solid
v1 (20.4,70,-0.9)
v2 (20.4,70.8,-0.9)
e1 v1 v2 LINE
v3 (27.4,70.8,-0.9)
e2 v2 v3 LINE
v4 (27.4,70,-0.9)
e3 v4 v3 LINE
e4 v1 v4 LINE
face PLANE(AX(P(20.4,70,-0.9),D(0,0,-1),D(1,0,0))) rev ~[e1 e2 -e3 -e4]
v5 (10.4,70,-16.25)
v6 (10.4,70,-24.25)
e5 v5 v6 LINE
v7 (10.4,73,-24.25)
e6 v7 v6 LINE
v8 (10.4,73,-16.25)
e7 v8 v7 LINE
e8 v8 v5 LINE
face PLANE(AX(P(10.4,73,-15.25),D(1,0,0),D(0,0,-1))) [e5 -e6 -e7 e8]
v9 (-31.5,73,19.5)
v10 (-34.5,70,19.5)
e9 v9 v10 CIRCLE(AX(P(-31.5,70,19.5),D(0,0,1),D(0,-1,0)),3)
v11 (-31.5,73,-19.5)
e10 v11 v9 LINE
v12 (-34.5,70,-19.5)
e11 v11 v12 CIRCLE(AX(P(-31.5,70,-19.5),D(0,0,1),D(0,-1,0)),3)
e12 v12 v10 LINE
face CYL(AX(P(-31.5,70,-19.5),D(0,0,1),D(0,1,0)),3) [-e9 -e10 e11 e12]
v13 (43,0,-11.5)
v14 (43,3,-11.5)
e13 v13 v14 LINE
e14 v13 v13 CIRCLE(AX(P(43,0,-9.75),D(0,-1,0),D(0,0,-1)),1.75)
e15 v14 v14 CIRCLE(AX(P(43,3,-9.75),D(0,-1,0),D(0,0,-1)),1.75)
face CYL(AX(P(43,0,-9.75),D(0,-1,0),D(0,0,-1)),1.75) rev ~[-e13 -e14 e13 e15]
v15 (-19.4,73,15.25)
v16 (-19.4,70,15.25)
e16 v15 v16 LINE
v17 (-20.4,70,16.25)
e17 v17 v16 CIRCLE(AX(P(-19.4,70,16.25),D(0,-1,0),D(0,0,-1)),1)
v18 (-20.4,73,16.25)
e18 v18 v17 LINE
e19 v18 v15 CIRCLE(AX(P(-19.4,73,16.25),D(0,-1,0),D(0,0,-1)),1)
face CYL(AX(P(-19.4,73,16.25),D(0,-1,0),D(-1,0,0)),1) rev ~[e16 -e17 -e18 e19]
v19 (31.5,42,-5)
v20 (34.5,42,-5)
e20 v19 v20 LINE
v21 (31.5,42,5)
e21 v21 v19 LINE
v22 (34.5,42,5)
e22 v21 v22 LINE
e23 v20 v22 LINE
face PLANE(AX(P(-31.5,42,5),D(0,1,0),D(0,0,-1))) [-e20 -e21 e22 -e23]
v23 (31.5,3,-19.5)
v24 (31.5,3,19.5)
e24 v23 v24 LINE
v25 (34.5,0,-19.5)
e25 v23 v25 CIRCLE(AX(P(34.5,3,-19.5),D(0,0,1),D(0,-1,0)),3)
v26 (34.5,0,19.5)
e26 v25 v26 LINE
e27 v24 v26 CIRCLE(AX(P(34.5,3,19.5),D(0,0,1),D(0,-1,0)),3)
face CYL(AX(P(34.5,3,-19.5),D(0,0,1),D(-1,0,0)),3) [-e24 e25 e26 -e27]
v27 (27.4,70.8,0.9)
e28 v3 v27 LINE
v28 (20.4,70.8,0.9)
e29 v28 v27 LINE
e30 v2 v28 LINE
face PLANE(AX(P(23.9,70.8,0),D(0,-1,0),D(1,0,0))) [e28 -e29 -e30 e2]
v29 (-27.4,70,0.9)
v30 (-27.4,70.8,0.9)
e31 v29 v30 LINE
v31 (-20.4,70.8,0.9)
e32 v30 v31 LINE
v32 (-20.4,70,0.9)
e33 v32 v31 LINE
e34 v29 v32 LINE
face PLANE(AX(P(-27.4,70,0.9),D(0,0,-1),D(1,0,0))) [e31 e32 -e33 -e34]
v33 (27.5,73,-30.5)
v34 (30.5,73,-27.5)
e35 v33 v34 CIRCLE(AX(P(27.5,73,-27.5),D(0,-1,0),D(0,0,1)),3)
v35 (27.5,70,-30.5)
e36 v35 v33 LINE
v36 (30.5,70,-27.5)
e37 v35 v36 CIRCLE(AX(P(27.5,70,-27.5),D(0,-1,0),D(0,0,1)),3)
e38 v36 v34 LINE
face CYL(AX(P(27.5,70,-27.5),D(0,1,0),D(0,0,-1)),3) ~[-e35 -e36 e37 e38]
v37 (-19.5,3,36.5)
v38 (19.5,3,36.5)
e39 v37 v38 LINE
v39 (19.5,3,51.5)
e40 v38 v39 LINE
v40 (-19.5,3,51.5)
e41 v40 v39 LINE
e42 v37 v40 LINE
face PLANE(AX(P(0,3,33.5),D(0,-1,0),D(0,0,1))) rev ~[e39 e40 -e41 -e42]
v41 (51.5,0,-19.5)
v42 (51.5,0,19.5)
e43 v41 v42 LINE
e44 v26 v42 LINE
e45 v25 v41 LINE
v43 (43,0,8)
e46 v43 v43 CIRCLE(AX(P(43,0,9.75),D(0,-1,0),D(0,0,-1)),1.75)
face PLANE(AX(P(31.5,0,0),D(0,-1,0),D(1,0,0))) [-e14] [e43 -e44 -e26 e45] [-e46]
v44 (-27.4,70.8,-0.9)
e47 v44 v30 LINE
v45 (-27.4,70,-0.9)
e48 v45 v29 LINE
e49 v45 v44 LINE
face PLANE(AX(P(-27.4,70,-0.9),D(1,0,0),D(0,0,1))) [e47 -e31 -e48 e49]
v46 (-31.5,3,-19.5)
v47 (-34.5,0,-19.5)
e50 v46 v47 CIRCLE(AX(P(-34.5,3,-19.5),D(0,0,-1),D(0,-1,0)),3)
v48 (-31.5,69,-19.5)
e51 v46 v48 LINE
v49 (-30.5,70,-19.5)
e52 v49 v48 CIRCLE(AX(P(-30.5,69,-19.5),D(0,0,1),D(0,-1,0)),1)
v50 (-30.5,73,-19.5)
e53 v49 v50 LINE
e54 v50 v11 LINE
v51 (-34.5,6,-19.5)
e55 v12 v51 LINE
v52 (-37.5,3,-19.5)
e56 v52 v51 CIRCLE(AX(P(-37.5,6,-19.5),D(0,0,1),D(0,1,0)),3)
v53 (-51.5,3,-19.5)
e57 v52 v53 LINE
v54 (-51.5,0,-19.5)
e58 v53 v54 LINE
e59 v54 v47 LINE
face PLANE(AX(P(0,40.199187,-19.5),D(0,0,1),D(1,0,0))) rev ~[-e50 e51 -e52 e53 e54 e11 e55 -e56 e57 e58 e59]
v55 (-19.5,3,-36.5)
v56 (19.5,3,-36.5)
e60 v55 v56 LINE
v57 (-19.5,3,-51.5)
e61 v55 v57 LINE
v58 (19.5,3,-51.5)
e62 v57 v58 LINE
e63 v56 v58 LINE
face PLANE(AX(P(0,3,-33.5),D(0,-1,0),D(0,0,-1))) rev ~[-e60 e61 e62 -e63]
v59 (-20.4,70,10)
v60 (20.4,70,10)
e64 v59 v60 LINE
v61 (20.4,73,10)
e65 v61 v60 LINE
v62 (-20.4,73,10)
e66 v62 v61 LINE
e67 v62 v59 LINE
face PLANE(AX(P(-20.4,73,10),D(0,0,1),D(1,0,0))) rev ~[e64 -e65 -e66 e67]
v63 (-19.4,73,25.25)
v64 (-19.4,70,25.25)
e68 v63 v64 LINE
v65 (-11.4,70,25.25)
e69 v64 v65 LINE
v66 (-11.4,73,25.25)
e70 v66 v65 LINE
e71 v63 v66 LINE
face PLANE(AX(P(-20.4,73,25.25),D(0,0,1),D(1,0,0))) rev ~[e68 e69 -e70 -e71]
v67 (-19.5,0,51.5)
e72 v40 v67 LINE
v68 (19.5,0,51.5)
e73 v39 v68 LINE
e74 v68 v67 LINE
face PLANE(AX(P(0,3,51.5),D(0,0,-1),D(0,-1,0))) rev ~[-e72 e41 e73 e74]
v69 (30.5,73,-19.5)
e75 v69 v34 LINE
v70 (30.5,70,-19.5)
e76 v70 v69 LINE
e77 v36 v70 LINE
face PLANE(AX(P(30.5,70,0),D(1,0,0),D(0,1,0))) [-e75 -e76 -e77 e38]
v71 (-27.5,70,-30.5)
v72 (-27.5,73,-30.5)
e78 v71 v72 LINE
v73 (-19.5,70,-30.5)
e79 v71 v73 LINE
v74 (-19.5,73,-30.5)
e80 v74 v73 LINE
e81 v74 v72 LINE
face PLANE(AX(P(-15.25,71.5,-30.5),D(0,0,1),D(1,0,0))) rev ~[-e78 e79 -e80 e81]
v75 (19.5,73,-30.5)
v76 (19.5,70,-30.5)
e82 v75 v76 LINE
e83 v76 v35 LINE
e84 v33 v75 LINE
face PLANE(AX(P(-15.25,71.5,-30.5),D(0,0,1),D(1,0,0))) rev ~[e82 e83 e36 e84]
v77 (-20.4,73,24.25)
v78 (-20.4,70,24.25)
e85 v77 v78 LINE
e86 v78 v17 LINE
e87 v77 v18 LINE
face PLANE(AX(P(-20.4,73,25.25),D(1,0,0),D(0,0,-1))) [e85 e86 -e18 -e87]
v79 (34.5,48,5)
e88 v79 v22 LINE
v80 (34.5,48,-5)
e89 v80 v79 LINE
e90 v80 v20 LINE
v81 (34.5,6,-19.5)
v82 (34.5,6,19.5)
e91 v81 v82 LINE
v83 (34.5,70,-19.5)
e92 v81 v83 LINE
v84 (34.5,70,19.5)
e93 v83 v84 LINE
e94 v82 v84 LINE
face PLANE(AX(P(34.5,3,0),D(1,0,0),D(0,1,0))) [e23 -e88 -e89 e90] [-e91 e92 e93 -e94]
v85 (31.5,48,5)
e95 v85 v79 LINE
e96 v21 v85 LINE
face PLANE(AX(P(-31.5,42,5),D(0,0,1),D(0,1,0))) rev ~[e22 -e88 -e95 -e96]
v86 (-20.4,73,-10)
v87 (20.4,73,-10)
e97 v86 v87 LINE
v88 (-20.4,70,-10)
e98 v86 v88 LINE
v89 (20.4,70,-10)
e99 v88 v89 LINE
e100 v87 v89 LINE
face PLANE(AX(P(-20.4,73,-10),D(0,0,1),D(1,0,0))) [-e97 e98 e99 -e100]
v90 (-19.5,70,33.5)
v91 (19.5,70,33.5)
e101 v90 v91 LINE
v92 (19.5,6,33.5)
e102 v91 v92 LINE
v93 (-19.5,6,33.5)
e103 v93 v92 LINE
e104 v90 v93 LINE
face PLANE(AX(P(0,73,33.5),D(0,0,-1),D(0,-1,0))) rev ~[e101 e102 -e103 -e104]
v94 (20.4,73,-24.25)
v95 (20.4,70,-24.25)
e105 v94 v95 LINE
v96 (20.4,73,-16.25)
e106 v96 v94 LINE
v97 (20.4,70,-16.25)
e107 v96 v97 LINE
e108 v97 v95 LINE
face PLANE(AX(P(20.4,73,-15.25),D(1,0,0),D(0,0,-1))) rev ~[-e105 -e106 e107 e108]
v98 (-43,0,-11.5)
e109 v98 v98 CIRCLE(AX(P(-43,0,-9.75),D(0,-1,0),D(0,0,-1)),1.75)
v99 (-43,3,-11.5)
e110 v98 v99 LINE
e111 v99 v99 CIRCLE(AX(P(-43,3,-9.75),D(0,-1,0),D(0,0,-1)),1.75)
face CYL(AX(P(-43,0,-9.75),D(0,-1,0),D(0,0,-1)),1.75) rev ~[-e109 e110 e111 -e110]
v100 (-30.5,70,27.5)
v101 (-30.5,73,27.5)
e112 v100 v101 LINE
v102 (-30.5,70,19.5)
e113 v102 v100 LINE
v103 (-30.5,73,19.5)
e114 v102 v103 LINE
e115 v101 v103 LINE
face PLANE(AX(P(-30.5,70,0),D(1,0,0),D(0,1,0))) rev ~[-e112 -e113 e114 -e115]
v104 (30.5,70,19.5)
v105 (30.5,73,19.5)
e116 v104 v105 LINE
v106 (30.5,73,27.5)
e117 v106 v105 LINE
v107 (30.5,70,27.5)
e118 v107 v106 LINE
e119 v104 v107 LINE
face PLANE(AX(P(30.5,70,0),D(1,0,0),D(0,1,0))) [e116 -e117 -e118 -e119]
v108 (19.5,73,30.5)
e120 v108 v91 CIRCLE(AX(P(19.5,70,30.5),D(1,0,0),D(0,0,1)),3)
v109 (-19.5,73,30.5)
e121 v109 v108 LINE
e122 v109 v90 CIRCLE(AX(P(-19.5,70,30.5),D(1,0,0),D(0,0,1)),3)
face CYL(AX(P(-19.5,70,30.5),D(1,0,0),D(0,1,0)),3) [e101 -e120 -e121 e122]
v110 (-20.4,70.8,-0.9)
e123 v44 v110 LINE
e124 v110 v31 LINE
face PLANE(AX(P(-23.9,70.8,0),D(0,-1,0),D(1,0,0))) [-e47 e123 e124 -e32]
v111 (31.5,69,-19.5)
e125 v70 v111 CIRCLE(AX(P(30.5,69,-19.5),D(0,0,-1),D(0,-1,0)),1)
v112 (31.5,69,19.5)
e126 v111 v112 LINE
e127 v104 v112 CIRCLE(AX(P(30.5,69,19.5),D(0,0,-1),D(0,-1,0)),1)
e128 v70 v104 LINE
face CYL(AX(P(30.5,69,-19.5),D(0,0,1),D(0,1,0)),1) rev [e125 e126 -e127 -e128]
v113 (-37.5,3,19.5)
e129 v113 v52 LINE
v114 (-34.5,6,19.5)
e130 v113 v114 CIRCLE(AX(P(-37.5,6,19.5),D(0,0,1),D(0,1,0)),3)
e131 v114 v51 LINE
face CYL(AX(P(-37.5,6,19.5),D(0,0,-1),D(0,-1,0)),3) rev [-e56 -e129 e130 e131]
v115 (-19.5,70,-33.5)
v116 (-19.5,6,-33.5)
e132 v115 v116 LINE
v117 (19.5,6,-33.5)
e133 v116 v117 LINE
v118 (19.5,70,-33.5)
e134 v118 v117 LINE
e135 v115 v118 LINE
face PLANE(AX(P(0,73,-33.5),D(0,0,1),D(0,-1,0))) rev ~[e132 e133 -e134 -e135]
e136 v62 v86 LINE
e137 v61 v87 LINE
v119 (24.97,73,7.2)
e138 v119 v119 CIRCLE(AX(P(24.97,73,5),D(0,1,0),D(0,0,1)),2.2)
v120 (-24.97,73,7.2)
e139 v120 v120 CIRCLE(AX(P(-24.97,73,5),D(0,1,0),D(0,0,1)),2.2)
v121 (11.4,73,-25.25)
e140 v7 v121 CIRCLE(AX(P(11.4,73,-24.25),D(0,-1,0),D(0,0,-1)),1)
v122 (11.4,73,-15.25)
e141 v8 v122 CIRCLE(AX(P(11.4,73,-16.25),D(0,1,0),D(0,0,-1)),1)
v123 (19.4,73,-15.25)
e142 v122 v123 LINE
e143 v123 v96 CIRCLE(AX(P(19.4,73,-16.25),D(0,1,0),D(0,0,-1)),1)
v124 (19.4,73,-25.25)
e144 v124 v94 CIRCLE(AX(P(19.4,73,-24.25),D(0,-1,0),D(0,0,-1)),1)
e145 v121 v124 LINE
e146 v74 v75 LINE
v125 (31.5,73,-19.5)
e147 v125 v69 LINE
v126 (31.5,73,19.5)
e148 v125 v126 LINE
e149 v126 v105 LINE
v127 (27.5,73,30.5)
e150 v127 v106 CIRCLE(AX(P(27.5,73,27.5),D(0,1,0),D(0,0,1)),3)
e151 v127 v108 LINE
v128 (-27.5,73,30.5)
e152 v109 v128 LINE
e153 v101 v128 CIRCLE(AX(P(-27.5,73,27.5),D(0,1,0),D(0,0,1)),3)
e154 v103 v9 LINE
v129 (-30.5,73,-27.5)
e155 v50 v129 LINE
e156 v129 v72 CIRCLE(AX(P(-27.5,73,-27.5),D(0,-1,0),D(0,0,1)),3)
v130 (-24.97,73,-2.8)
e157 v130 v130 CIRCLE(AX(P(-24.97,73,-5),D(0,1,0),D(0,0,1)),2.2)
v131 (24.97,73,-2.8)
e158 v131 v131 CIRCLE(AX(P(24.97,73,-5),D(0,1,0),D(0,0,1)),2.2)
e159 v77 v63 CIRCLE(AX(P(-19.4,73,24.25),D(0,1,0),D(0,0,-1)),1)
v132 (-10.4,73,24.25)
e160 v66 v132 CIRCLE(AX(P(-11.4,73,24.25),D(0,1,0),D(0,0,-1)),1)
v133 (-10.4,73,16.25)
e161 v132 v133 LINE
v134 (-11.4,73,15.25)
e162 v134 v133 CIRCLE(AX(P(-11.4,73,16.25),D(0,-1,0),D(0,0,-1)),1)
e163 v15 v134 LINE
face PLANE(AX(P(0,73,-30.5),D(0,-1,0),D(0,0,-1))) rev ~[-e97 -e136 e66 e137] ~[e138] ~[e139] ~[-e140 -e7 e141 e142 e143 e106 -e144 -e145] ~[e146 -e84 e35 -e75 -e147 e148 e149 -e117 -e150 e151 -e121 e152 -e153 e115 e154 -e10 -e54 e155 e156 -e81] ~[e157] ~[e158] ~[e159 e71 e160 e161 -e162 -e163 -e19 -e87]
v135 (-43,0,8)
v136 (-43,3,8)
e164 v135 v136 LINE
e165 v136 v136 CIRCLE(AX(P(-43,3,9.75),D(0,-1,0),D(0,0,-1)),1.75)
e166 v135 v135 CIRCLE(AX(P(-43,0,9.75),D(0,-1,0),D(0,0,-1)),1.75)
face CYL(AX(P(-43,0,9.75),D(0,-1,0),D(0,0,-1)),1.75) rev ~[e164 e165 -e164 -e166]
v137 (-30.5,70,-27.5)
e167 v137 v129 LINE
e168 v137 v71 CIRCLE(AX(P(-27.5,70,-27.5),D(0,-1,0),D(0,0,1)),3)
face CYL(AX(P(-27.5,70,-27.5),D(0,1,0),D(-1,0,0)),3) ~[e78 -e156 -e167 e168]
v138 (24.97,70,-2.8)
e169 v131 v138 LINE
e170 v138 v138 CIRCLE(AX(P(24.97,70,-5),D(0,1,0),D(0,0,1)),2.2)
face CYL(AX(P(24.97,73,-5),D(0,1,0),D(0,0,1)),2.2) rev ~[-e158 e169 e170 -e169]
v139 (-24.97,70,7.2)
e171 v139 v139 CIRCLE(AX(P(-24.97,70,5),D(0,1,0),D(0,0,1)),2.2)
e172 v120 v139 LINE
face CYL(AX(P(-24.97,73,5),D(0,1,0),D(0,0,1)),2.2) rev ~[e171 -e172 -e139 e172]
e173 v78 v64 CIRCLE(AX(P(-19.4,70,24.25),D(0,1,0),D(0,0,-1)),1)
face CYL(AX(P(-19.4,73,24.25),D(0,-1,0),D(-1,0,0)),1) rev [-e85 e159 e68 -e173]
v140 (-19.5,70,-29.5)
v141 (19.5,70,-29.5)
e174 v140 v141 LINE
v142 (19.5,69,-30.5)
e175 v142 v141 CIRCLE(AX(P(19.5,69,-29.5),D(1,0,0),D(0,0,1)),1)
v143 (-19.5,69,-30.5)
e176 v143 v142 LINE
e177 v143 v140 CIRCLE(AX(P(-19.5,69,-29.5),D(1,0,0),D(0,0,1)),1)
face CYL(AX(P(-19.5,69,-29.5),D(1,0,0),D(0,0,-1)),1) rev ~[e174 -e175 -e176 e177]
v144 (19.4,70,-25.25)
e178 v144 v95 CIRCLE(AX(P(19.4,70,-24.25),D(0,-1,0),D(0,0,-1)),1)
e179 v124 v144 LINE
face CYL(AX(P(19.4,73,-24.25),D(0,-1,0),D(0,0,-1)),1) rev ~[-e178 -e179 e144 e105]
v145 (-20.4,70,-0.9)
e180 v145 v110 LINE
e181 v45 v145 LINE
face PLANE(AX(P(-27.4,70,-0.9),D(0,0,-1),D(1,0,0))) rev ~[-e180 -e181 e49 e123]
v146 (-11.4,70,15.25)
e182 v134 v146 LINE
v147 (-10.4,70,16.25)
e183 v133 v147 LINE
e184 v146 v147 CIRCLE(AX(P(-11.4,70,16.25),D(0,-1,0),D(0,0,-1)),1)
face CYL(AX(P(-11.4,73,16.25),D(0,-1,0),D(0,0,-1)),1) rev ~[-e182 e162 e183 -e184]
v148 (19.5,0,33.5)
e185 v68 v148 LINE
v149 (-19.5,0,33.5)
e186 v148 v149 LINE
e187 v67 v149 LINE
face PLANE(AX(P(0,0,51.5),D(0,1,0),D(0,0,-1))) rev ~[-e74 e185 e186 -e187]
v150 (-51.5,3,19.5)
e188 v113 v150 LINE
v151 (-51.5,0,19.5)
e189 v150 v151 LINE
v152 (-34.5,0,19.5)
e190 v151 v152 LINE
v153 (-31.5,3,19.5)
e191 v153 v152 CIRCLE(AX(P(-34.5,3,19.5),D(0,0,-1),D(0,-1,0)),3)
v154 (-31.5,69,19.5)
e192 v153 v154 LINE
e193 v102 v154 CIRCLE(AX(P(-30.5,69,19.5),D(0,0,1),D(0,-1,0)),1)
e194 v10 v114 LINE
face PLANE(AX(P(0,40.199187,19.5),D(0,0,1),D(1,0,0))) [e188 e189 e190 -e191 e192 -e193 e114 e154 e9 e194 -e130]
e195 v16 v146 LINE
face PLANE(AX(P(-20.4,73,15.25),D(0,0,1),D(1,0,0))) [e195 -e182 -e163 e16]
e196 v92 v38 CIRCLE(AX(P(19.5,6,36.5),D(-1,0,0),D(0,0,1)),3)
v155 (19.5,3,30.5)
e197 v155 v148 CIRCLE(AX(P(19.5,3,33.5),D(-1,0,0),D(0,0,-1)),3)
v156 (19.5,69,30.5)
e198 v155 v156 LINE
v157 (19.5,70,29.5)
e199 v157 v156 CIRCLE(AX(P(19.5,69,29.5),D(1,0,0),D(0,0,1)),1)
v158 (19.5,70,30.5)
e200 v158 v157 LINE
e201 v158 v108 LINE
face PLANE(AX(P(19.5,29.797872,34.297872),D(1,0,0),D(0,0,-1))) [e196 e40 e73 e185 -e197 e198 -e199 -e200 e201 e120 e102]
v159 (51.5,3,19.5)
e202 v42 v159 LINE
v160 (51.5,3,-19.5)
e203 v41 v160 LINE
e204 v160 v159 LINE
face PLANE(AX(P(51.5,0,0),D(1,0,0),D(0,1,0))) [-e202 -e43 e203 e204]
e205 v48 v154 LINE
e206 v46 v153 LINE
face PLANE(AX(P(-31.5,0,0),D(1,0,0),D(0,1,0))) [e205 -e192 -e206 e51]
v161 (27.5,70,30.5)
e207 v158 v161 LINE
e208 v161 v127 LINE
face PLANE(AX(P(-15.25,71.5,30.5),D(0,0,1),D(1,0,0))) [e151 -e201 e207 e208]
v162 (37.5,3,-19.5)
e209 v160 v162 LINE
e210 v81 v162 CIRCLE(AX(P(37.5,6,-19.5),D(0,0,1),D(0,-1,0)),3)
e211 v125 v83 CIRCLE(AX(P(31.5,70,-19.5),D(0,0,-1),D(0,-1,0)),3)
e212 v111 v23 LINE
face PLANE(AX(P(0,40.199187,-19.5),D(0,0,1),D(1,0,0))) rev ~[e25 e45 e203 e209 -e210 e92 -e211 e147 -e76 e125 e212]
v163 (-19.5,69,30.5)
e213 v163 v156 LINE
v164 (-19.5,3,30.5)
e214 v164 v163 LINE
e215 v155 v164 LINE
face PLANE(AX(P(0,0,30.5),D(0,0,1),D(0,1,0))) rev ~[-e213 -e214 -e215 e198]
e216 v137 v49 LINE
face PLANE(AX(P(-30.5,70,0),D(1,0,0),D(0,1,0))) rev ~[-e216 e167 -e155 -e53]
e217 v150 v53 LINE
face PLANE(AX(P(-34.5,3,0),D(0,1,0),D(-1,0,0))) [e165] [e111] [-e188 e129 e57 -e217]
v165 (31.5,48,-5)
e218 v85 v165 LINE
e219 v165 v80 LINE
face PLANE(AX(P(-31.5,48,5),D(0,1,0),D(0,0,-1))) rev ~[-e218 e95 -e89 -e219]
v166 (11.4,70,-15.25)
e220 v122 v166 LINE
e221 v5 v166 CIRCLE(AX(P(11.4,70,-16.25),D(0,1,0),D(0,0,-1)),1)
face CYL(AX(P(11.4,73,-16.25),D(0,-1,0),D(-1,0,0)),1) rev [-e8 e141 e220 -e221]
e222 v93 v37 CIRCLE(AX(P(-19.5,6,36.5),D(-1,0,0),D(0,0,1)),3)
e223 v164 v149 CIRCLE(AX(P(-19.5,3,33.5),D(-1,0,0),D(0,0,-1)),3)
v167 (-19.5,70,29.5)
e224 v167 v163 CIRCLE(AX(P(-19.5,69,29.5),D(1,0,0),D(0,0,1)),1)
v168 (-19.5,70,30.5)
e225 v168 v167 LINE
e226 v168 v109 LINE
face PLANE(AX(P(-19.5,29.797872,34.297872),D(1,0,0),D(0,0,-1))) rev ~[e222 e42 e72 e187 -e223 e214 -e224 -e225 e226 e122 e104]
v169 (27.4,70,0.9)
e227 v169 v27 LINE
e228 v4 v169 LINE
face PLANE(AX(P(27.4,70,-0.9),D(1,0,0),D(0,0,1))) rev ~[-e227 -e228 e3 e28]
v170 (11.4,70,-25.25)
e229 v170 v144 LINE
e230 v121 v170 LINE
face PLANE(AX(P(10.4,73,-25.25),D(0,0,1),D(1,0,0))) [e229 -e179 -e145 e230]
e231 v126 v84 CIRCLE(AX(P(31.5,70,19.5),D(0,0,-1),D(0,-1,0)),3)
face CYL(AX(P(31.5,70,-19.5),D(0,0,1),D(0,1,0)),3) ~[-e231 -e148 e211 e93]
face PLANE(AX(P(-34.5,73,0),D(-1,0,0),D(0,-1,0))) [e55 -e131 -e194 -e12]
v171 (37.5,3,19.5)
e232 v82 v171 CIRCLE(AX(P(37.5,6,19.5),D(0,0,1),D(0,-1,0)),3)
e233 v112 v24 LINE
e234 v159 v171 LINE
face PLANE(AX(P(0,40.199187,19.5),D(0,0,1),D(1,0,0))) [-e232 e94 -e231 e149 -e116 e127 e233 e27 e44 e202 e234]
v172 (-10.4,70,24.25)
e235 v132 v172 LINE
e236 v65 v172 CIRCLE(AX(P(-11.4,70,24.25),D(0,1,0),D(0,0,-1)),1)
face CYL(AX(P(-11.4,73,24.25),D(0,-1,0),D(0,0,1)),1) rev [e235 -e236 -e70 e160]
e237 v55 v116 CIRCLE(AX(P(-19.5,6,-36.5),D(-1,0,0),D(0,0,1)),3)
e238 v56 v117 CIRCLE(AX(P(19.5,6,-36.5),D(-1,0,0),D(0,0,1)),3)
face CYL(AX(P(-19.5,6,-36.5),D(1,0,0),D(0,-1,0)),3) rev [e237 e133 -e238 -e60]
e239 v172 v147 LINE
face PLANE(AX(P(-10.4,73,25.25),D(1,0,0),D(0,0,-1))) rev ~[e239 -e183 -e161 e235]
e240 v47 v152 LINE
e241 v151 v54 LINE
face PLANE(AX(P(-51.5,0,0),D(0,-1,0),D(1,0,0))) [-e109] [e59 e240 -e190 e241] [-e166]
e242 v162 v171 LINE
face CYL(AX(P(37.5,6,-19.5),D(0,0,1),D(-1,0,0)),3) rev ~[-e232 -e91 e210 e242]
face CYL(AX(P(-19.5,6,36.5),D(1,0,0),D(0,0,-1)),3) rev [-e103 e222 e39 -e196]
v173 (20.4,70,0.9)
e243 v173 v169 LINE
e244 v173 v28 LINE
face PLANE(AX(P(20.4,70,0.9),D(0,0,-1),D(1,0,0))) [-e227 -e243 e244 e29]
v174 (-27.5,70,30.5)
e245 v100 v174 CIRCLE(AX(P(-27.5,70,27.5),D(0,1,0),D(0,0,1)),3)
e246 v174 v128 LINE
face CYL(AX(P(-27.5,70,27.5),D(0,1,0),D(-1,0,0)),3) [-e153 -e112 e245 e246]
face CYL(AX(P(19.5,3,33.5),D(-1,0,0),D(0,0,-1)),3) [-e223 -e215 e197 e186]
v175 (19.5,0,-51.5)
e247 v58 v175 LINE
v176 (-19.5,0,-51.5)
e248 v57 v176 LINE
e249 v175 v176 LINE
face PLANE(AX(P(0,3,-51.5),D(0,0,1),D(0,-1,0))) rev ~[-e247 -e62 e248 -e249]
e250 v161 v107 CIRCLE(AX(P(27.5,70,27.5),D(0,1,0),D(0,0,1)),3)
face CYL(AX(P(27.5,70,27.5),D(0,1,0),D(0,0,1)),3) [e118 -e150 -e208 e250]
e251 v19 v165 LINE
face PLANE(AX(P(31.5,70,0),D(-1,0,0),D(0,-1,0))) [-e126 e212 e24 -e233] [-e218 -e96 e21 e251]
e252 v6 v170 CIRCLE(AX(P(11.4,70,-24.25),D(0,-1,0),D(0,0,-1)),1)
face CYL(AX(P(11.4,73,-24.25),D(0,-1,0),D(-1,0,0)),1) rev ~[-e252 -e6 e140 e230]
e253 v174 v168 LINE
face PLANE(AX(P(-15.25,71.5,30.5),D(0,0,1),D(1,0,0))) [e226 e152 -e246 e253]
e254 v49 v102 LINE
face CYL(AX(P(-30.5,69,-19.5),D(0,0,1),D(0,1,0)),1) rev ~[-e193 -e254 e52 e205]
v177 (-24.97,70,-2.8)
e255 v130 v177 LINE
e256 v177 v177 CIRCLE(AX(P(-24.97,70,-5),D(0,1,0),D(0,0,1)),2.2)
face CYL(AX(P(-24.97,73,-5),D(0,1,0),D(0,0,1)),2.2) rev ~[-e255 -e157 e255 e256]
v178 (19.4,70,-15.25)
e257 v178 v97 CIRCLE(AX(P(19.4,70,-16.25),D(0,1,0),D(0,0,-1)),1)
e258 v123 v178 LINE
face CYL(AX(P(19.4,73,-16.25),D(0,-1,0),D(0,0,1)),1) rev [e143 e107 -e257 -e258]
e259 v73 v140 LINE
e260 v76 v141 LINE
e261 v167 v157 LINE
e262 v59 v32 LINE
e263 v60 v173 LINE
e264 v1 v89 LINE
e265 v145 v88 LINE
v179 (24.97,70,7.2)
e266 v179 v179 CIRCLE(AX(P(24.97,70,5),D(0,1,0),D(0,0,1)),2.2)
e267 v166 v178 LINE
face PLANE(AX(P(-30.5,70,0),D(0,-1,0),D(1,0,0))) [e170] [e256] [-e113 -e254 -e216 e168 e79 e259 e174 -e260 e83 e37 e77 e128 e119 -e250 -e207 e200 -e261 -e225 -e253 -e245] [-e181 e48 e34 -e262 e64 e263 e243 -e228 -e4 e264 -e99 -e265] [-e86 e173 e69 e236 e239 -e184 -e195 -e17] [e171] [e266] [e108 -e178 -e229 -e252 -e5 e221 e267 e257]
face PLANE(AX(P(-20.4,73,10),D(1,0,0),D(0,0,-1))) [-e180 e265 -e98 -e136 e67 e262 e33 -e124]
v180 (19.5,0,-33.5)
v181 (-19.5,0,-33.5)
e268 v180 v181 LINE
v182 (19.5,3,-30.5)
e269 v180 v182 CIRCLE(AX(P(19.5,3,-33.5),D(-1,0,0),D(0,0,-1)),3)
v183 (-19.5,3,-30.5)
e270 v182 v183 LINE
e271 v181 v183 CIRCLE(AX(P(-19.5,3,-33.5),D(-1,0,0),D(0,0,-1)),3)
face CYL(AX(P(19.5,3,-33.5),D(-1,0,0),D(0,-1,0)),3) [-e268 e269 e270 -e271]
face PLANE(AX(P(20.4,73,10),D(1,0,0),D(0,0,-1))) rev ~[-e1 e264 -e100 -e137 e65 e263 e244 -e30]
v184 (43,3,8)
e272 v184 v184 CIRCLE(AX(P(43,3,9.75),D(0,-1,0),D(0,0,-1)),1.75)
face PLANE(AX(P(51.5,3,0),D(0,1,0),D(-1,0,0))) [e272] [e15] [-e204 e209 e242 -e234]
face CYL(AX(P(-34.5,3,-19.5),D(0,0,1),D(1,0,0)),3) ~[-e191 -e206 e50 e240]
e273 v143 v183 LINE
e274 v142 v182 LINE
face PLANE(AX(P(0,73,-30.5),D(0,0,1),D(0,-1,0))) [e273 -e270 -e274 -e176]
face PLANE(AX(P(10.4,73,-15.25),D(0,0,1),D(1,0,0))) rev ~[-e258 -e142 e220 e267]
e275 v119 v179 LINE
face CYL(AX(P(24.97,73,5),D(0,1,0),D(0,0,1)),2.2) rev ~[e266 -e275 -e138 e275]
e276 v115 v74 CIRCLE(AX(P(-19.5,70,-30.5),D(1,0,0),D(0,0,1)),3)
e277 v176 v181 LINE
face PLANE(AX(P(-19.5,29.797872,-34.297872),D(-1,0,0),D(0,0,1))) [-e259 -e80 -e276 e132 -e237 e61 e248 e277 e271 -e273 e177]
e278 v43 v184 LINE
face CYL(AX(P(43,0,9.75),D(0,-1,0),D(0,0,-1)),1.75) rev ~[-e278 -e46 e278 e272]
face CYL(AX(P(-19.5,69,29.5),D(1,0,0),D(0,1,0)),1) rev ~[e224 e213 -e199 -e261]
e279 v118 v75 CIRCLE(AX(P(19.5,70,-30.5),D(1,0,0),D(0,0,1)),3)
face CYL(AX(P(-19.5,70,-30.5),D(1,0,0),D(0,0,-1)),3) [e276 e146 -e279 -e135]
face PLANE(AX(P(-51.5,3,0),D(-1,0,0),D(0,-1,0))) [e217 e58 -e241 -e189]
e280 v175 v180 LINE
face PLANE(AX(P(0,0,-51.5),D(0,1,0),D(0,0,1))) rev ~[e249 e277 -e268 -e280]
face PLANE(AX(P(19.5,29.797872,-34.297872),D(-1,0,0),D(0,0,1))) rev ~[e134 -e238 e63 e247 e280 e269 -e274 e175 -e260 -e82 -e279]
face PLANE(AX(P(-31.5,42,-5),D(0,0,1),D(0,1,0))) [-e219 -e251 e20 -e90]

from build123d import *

# Parameters (mm, degrees)
SALIENTE_EXTRUIR1_DEPTH = 19.5
CROQUIS1_4_W            = 61
CROQUIS1_4_H            = 3
SALIENTE_EXTRUIR2_DEPTH = 30.5
CORTAR_EXTRUIR1_REACH   = 96.401
CROQUIS2_R              = 2.2
CROQUIS2_W              = 40.8
CROQUIS2_H              = 20
CROQUIS2_W_2            = 10
CROQUIS2_H_2            = 10
CROQUIS3_W              = 7
CROQUIS3_H              = 1.8
CORTAR_EXTRUIR2_DEPTH   = 0.8
CORTAR_EXTRUIR3_REACH   = 96.401
CROQUIS4_R              = 1.75
REDONDEO1_R             = 3
REDONDEO2_R             = 1
SALIENTE_EXTRUIR3_DEPTH = 19.5
REDONDEO3_R             = 3
REDONDEO4_R             = 1
CROQUIS10_W             = 10
CROQUIS10_H             = 6
CORTAR_EXTRUIR4_DEPTH   = 122.94363452


with BuildPart() as part:
    # Croquis1 → Saliente-Extruir1 (new, symmetric)
    with BuildSketch(Plane.XY):
        Polygon((-51.5, 0), (-31.5, 0), (-31.5, 70), (31.5, 70), (31.5, 0), (51.5, 0), (51.5, 3), (34.5, 3), (34.5, 73), (-34.5, 73), (-34.5, 3), (-51.5, 3), align=None)
    extrude(amount=SALIENTE_EXTRUIR1_DEPTH, both=True)

    # Croquis1<4> → Saliente-Extruir2 (add, symmetric)
    with BuildSketch(Plane.XY):
        with Locations((0, 71.5)):
            Rectangle(CROQUIS1_4_W, CROQUIS1_4_H)
    extrude(amount=SALIENTE_EXTRUIR2_DEPTH, both=True)

    # Croquis2 → Cortar-Extruir1 (cut, up to next)
    with BuildSketch(Plane(origin=(0, 73, 0), x_dir=(1, 0, 0), z_dir=(0, 1, 0)), mode=Mode.PRIVATE) as cortar_extruir1_sk1:
        with Locations((24.97, 5)):
            Circle(CROQUIS2_R)
    cortar_extruir1_tool1 = extrude(cortar_extruir1_sk1.sketch, amount=-CORTAR_EXTRUIR1_REACH, mode=Mode.PRIVATE) & part.part
    # Croquis2 → Cortar-Extruir1 (cut, up to next)
    with BuildSketch(Plane(origin=(0, 73, 0), x_dir=(1, 0, 0), z_dir=(0, 1, 0)), mode=Mode.PRIVATE) as cortar_extruir1_sk2:
        with Locations((24.97, -5)):
            Circle(CROQUIS2_R)
    cortar_extruir1_tool2 = extrude(cortar_extruir1_sk2.sketch, amount=-CORTAR_EXTRUIR1_REACH, mode=Mode.PRIVATE) & part.part
    # Croquis2 → Cortar-Extruir1 (cut, up to next)
    with BuildSketch(Plane(origin=(0, 73, 0), x_dir=(1, 0, 0), z_dir=(0, 1, 0)), mode=Mode.PRIVATE) as cortar_extruir1_sk3:
        with Locations((-24.97, 5)):
            Circle(CROQUIS2_R)
    cortar_extruir1_tool3 = extrude(cortar_extruir1_sk3.sketch, amount=-CORTAR_EXTRUIR1_REACH, mode=Mode.PRIVATE) & part.part
    # Croquis2 → Cortar-Extruir1 (cut, up to next)
    with BuildSketch(Plane(origin=(0, 73, 0), x_dir=(1, 0, 0), z_dir=(0, 1, 0)), mode=Mode.PRIVATE) as cortar_extruir1_sk4:
        with Locations((-24.97, -5)):
            Circle(CROQUIS2_R)
    cortar_extruir1_tool4 = extrude(cortar_extruir1_sk4.sketch, amount=-CORTAR_EXTRUIR1_REACH, mode=Mode.PRIVATE) & part.part
    # Croquis2 → Cortar-Extruir1 (cut, up to next)
    with BuildSketch(Plane(origin=(0, 73, 0), x_dir=(1, 0, 0), z_dir=(0, 1, 0)), mode=Mode.PRIVATE) as cortar_extruir1_sk5:
        Rectangle(CROQUIS2_W, CROQUIS2_H)
    cortar_extruir1_tool5 = extrude(cortar_extruir1_sk5.sketch, amount=-CORTAR_EXTRUIR1_REACH, mode=Mode.PRIVATE) & part.part
    # Croquis2 → Cortar-Extruir1 (cut, up to next)
    with BuildSketch(Plane(origin=(0, 73, 0), x_dir=(1, 0, 0), z_dir=(0, 1, 0)), mode=Mode.PRIVATE) as cortar_extruir1_sk6:
        with Locations((15.4, 20.25)):
            Rectangle(CROQUIS2_W_2, CROQUIS2_H_2)
    cortar_extruir1_tool6 = extrude(cortar_extruir1_sk6.sketch, amount=-CORTAR_EXTRUIR1_REACH, mode=Mode.PRIVATE) & part.part
    # Croquis2 → Cortar-Extruir1 (cut, up to next)
    with BuildSketch(Plane(origin=(0, 73, 0), x_dir=(1, 0, 0), z_dir=(0, 1, 0)), mode=Mode.PRIVATE) as cortar_extruir1_sk7:
        with Locations((-15.4, -20.25)):
            Rectangle(CROQUIS2_W_2, CROQUIS2_H_2)
    cortar_extruir1_tool7 = extrude(cortar_extruir1_sk7.sketch, amount=-CORTAR_EXTRUIR1_REACH, mode=Mode.PRIVATE) & part.part
    add(cortar_extruir1_tool1.solids().sort_by_distance((24.97, 73, -5))[0], mode=Mode.SUBTRACT)
    add(cortar_extruir1_tool2.solids().sort_by_distance((24.97, 73, 5))[0], mode=Mode.SUBTRACT)
    add(cortar_extruir1_tool3.solids().sort_by_distance((-24.97, 73, -5))[0], mode=Mode.SUBTRACT)
    add(cortar_extruir1_tool4.solids().sort_by_distance((-24.97, 73, 5))[0], mode=Mode.SUBTRACT)
    add(cortar_extruir1_tool5.solids().sort_by_distance((0, 73, 0))[0], mode=Mode.SUBTRACT)
    add(cortar_extruir1_tool6.solids().sort_by_distance((15.4, 73, -20.25))[0], mode=Mode.SUBTRACT)
    add(cortar_extruir1_tool7.solids().sort_by_distance((-15.4, 73, 20.25))[0], mode=Mode.SUBTRACT)

    # Croquis3 → Cortar-Extruir2 (cut)
    with BuildSketch(Plane.XZ.offset(-70)):
        with Locations((23.9, 0)):
            Rectangle(CROQUIS3_W, CROQUIS3_H)
        with Locations((-23.9, 0)):
            Rectangle(CROQUIS3_W, CROQUIS3_H)
    extrude(amount=-CORTAR_EXTRUIR2_DEPTH, mode=Mode.SUBTRACT)

    # Croquis4 → Cortar-Extruir3 (cut, up to next)
    with BuildSketch(Plane.XZ, mode=Mode.PRIVATE) as cortar_extruir3_sk1:
        with Locations((43, 9.75)):
            Circle(CROQUIS4_R)
    cortar_extruir3_tool1 = extrude(cortar_extruir3_sk1.sketch, amount=-CORTAR_EXTRUIR3_REACH, mode=Mode.PRIVATE) & part.part
    # Croquis4 → Cortar-Extruir3 (cut, up to next)
    with BuildSketch(Plane.XZ, mode=Mode.PRIVATE) as cortar_extruir3_sk2:
        with Locations((43, -9.75)):
            Circle(CROQUIS4_R)
    cortar_extruir3_tool2 = extrude(cortar_extruir3_sk2.sketch, amount=-CORTAR_EXTRUIR3_REACH, mode=Mode.PRIVATE) & part.part
    # Croquis4 → Cortar-Extruir3 (cut, up to next)
    with BuildSketch(Plane.XZ, mode=Mode.PRIVATE) as cortar_extruir3_sk3:
        with Locations((-43, -9.75)):
            Circle(CROQUIS4_R)
    cortar_extruir3_tool3 = extrude(cortar_extruir3_sk3.sketch, amount=-CORTAR_EXTRUIR3_REACH, mode=Mode.PRIVATE) & part.part
    # Croquis4 → Cortar-Extruir3 (cut, up to next)
    with BuildSketch(Plane.XZ, mode=Mode.PRIVATE) as cortar_extruir3_sk4:
        with Locations((-43, 9.75)):
            Circle(CROQUIS4_R)
    cortar_extruir3_tool4 = extrude(cortar_extruir3_sk4.sketch, amount=-CORTAR_EXTRUIR3_REACH, mode=Mode.PRIVATE) & part.part
    add(cortar_extruir3_tool1.solids().sort_by_distance((43, 0, 9.75))[0], mode=Mode.SUBTRACT)
    add(cortar_extruir3_tool2.solids().sort_by_distance((43, 0, -9.75))[0], mode=Mode.SUBTRACT)
    add(cortar_extruir3_tool3.solids().sort_by_distance((-43, 0, -9.75))[0], mode=Mode.SUBTRACT)
    add(cortar_extruir3_tool4.solids().sort_by_distance((-43, 0, 9.75))[0], mode=Mode.SUBTRACT)

    # Redondeo1
    redondeo1_edges = [part.edges().sort_by_distance(p)[0] for p in [
        (31.5, 0, 0),
        (-31.5, 0, 0),
        (-34.5, 73, 0),
        (34.5, 73, 0),
        (-34.5, 3, 0),
        (34.5, 3, 0),
        (-30.5, 71.5, -30.5),
        (30.5, 71.5, -30.5),
        (-30.5, 71.5, 30.5),
        (30.5, 71.5, 30.5),
    ]]
    fillet(redondeo1_edges, radius=REDONDEO1_R)

    # Redondeo2
    redondeo2_edges = [part.edges().sort_by_distance(p)[0] for p in [
        (-31.5, 70, 0),
        (31.5, 70, 0),
        (-20.4, 71.5, 25.25),
        (-20.4, 71.5, 15.25),
        (-10.4, 71.5, 15.25),
        (-10.4, 71.5, 25.25),
        (20.4, 71.5, -15.25),
        (10.4, 71.5, -15.25),
        (10.4, 71.5, -25.25),
        (20.4, 71.5, -25.25),
    ]]
    fillet(redondeo2_edges, radius=REDONDEO2_R)

    # Croquis8 → Saliente-Extruir3 (add, symmetric)
    with BuildSketch(Plane(origin=(0, 0, 0), x_dir=(0, 0, -1), z_dir=(1, 0, 0))):
        Polygon((-30.5, 73), (-33.5, 73), (-33.5, 3), (-51.5, 3), (-51.5, 0), (-30.5, 0), (-30.5, 70), align=None)
        Polygon((51.5, 3), (51.5, 0), (30.5, 0), (30.5, 70), (30.5, 73), (33.5, 73), (33.5, 3), align=None)
    extrude(amount=SALIENTE_EXTRUIR3_DEPTH, both=True)

    # Redondeo3
    redondeo3_edges = [part.edges().sort_by_distance(p)[0] for p in [
        (0, 73, -33.5),
        (0, 3, -33.5),
        (0, 0, -30.5),
        (0, 0, 30.5),
        (0, 3, 33.5),
        (0, 73, 33.5),
    ]]
    fillet(redondeo3_edges, radius=REDONDEO3_R)

    # Redondeo4
    redondeo4_edges = [part.edges().sort_by_distance(p)[0] for p in [
        (0, 70, -30.5),
        (0, 70, 30.5),
    ]]
    fillet(redondeo4_edges, radius=REDONDEO4_R)

    # Croquis10 → Cortar-Extruir4 (cut, through all)
    with BuildSketch(Plane(origin=(-31.5, 0, 0), x_dir=(0, 0, -1), z_dir=(1, 0, 0))):
        with Locations((0, 45)):
            Rectangle(CROQUIS10_W, CROQUIS10_H)
    extrude(amount=CORTAR_EXTRUIR4_DEPTH, mode=Mode.SUBTRACT)


solid = part.part
